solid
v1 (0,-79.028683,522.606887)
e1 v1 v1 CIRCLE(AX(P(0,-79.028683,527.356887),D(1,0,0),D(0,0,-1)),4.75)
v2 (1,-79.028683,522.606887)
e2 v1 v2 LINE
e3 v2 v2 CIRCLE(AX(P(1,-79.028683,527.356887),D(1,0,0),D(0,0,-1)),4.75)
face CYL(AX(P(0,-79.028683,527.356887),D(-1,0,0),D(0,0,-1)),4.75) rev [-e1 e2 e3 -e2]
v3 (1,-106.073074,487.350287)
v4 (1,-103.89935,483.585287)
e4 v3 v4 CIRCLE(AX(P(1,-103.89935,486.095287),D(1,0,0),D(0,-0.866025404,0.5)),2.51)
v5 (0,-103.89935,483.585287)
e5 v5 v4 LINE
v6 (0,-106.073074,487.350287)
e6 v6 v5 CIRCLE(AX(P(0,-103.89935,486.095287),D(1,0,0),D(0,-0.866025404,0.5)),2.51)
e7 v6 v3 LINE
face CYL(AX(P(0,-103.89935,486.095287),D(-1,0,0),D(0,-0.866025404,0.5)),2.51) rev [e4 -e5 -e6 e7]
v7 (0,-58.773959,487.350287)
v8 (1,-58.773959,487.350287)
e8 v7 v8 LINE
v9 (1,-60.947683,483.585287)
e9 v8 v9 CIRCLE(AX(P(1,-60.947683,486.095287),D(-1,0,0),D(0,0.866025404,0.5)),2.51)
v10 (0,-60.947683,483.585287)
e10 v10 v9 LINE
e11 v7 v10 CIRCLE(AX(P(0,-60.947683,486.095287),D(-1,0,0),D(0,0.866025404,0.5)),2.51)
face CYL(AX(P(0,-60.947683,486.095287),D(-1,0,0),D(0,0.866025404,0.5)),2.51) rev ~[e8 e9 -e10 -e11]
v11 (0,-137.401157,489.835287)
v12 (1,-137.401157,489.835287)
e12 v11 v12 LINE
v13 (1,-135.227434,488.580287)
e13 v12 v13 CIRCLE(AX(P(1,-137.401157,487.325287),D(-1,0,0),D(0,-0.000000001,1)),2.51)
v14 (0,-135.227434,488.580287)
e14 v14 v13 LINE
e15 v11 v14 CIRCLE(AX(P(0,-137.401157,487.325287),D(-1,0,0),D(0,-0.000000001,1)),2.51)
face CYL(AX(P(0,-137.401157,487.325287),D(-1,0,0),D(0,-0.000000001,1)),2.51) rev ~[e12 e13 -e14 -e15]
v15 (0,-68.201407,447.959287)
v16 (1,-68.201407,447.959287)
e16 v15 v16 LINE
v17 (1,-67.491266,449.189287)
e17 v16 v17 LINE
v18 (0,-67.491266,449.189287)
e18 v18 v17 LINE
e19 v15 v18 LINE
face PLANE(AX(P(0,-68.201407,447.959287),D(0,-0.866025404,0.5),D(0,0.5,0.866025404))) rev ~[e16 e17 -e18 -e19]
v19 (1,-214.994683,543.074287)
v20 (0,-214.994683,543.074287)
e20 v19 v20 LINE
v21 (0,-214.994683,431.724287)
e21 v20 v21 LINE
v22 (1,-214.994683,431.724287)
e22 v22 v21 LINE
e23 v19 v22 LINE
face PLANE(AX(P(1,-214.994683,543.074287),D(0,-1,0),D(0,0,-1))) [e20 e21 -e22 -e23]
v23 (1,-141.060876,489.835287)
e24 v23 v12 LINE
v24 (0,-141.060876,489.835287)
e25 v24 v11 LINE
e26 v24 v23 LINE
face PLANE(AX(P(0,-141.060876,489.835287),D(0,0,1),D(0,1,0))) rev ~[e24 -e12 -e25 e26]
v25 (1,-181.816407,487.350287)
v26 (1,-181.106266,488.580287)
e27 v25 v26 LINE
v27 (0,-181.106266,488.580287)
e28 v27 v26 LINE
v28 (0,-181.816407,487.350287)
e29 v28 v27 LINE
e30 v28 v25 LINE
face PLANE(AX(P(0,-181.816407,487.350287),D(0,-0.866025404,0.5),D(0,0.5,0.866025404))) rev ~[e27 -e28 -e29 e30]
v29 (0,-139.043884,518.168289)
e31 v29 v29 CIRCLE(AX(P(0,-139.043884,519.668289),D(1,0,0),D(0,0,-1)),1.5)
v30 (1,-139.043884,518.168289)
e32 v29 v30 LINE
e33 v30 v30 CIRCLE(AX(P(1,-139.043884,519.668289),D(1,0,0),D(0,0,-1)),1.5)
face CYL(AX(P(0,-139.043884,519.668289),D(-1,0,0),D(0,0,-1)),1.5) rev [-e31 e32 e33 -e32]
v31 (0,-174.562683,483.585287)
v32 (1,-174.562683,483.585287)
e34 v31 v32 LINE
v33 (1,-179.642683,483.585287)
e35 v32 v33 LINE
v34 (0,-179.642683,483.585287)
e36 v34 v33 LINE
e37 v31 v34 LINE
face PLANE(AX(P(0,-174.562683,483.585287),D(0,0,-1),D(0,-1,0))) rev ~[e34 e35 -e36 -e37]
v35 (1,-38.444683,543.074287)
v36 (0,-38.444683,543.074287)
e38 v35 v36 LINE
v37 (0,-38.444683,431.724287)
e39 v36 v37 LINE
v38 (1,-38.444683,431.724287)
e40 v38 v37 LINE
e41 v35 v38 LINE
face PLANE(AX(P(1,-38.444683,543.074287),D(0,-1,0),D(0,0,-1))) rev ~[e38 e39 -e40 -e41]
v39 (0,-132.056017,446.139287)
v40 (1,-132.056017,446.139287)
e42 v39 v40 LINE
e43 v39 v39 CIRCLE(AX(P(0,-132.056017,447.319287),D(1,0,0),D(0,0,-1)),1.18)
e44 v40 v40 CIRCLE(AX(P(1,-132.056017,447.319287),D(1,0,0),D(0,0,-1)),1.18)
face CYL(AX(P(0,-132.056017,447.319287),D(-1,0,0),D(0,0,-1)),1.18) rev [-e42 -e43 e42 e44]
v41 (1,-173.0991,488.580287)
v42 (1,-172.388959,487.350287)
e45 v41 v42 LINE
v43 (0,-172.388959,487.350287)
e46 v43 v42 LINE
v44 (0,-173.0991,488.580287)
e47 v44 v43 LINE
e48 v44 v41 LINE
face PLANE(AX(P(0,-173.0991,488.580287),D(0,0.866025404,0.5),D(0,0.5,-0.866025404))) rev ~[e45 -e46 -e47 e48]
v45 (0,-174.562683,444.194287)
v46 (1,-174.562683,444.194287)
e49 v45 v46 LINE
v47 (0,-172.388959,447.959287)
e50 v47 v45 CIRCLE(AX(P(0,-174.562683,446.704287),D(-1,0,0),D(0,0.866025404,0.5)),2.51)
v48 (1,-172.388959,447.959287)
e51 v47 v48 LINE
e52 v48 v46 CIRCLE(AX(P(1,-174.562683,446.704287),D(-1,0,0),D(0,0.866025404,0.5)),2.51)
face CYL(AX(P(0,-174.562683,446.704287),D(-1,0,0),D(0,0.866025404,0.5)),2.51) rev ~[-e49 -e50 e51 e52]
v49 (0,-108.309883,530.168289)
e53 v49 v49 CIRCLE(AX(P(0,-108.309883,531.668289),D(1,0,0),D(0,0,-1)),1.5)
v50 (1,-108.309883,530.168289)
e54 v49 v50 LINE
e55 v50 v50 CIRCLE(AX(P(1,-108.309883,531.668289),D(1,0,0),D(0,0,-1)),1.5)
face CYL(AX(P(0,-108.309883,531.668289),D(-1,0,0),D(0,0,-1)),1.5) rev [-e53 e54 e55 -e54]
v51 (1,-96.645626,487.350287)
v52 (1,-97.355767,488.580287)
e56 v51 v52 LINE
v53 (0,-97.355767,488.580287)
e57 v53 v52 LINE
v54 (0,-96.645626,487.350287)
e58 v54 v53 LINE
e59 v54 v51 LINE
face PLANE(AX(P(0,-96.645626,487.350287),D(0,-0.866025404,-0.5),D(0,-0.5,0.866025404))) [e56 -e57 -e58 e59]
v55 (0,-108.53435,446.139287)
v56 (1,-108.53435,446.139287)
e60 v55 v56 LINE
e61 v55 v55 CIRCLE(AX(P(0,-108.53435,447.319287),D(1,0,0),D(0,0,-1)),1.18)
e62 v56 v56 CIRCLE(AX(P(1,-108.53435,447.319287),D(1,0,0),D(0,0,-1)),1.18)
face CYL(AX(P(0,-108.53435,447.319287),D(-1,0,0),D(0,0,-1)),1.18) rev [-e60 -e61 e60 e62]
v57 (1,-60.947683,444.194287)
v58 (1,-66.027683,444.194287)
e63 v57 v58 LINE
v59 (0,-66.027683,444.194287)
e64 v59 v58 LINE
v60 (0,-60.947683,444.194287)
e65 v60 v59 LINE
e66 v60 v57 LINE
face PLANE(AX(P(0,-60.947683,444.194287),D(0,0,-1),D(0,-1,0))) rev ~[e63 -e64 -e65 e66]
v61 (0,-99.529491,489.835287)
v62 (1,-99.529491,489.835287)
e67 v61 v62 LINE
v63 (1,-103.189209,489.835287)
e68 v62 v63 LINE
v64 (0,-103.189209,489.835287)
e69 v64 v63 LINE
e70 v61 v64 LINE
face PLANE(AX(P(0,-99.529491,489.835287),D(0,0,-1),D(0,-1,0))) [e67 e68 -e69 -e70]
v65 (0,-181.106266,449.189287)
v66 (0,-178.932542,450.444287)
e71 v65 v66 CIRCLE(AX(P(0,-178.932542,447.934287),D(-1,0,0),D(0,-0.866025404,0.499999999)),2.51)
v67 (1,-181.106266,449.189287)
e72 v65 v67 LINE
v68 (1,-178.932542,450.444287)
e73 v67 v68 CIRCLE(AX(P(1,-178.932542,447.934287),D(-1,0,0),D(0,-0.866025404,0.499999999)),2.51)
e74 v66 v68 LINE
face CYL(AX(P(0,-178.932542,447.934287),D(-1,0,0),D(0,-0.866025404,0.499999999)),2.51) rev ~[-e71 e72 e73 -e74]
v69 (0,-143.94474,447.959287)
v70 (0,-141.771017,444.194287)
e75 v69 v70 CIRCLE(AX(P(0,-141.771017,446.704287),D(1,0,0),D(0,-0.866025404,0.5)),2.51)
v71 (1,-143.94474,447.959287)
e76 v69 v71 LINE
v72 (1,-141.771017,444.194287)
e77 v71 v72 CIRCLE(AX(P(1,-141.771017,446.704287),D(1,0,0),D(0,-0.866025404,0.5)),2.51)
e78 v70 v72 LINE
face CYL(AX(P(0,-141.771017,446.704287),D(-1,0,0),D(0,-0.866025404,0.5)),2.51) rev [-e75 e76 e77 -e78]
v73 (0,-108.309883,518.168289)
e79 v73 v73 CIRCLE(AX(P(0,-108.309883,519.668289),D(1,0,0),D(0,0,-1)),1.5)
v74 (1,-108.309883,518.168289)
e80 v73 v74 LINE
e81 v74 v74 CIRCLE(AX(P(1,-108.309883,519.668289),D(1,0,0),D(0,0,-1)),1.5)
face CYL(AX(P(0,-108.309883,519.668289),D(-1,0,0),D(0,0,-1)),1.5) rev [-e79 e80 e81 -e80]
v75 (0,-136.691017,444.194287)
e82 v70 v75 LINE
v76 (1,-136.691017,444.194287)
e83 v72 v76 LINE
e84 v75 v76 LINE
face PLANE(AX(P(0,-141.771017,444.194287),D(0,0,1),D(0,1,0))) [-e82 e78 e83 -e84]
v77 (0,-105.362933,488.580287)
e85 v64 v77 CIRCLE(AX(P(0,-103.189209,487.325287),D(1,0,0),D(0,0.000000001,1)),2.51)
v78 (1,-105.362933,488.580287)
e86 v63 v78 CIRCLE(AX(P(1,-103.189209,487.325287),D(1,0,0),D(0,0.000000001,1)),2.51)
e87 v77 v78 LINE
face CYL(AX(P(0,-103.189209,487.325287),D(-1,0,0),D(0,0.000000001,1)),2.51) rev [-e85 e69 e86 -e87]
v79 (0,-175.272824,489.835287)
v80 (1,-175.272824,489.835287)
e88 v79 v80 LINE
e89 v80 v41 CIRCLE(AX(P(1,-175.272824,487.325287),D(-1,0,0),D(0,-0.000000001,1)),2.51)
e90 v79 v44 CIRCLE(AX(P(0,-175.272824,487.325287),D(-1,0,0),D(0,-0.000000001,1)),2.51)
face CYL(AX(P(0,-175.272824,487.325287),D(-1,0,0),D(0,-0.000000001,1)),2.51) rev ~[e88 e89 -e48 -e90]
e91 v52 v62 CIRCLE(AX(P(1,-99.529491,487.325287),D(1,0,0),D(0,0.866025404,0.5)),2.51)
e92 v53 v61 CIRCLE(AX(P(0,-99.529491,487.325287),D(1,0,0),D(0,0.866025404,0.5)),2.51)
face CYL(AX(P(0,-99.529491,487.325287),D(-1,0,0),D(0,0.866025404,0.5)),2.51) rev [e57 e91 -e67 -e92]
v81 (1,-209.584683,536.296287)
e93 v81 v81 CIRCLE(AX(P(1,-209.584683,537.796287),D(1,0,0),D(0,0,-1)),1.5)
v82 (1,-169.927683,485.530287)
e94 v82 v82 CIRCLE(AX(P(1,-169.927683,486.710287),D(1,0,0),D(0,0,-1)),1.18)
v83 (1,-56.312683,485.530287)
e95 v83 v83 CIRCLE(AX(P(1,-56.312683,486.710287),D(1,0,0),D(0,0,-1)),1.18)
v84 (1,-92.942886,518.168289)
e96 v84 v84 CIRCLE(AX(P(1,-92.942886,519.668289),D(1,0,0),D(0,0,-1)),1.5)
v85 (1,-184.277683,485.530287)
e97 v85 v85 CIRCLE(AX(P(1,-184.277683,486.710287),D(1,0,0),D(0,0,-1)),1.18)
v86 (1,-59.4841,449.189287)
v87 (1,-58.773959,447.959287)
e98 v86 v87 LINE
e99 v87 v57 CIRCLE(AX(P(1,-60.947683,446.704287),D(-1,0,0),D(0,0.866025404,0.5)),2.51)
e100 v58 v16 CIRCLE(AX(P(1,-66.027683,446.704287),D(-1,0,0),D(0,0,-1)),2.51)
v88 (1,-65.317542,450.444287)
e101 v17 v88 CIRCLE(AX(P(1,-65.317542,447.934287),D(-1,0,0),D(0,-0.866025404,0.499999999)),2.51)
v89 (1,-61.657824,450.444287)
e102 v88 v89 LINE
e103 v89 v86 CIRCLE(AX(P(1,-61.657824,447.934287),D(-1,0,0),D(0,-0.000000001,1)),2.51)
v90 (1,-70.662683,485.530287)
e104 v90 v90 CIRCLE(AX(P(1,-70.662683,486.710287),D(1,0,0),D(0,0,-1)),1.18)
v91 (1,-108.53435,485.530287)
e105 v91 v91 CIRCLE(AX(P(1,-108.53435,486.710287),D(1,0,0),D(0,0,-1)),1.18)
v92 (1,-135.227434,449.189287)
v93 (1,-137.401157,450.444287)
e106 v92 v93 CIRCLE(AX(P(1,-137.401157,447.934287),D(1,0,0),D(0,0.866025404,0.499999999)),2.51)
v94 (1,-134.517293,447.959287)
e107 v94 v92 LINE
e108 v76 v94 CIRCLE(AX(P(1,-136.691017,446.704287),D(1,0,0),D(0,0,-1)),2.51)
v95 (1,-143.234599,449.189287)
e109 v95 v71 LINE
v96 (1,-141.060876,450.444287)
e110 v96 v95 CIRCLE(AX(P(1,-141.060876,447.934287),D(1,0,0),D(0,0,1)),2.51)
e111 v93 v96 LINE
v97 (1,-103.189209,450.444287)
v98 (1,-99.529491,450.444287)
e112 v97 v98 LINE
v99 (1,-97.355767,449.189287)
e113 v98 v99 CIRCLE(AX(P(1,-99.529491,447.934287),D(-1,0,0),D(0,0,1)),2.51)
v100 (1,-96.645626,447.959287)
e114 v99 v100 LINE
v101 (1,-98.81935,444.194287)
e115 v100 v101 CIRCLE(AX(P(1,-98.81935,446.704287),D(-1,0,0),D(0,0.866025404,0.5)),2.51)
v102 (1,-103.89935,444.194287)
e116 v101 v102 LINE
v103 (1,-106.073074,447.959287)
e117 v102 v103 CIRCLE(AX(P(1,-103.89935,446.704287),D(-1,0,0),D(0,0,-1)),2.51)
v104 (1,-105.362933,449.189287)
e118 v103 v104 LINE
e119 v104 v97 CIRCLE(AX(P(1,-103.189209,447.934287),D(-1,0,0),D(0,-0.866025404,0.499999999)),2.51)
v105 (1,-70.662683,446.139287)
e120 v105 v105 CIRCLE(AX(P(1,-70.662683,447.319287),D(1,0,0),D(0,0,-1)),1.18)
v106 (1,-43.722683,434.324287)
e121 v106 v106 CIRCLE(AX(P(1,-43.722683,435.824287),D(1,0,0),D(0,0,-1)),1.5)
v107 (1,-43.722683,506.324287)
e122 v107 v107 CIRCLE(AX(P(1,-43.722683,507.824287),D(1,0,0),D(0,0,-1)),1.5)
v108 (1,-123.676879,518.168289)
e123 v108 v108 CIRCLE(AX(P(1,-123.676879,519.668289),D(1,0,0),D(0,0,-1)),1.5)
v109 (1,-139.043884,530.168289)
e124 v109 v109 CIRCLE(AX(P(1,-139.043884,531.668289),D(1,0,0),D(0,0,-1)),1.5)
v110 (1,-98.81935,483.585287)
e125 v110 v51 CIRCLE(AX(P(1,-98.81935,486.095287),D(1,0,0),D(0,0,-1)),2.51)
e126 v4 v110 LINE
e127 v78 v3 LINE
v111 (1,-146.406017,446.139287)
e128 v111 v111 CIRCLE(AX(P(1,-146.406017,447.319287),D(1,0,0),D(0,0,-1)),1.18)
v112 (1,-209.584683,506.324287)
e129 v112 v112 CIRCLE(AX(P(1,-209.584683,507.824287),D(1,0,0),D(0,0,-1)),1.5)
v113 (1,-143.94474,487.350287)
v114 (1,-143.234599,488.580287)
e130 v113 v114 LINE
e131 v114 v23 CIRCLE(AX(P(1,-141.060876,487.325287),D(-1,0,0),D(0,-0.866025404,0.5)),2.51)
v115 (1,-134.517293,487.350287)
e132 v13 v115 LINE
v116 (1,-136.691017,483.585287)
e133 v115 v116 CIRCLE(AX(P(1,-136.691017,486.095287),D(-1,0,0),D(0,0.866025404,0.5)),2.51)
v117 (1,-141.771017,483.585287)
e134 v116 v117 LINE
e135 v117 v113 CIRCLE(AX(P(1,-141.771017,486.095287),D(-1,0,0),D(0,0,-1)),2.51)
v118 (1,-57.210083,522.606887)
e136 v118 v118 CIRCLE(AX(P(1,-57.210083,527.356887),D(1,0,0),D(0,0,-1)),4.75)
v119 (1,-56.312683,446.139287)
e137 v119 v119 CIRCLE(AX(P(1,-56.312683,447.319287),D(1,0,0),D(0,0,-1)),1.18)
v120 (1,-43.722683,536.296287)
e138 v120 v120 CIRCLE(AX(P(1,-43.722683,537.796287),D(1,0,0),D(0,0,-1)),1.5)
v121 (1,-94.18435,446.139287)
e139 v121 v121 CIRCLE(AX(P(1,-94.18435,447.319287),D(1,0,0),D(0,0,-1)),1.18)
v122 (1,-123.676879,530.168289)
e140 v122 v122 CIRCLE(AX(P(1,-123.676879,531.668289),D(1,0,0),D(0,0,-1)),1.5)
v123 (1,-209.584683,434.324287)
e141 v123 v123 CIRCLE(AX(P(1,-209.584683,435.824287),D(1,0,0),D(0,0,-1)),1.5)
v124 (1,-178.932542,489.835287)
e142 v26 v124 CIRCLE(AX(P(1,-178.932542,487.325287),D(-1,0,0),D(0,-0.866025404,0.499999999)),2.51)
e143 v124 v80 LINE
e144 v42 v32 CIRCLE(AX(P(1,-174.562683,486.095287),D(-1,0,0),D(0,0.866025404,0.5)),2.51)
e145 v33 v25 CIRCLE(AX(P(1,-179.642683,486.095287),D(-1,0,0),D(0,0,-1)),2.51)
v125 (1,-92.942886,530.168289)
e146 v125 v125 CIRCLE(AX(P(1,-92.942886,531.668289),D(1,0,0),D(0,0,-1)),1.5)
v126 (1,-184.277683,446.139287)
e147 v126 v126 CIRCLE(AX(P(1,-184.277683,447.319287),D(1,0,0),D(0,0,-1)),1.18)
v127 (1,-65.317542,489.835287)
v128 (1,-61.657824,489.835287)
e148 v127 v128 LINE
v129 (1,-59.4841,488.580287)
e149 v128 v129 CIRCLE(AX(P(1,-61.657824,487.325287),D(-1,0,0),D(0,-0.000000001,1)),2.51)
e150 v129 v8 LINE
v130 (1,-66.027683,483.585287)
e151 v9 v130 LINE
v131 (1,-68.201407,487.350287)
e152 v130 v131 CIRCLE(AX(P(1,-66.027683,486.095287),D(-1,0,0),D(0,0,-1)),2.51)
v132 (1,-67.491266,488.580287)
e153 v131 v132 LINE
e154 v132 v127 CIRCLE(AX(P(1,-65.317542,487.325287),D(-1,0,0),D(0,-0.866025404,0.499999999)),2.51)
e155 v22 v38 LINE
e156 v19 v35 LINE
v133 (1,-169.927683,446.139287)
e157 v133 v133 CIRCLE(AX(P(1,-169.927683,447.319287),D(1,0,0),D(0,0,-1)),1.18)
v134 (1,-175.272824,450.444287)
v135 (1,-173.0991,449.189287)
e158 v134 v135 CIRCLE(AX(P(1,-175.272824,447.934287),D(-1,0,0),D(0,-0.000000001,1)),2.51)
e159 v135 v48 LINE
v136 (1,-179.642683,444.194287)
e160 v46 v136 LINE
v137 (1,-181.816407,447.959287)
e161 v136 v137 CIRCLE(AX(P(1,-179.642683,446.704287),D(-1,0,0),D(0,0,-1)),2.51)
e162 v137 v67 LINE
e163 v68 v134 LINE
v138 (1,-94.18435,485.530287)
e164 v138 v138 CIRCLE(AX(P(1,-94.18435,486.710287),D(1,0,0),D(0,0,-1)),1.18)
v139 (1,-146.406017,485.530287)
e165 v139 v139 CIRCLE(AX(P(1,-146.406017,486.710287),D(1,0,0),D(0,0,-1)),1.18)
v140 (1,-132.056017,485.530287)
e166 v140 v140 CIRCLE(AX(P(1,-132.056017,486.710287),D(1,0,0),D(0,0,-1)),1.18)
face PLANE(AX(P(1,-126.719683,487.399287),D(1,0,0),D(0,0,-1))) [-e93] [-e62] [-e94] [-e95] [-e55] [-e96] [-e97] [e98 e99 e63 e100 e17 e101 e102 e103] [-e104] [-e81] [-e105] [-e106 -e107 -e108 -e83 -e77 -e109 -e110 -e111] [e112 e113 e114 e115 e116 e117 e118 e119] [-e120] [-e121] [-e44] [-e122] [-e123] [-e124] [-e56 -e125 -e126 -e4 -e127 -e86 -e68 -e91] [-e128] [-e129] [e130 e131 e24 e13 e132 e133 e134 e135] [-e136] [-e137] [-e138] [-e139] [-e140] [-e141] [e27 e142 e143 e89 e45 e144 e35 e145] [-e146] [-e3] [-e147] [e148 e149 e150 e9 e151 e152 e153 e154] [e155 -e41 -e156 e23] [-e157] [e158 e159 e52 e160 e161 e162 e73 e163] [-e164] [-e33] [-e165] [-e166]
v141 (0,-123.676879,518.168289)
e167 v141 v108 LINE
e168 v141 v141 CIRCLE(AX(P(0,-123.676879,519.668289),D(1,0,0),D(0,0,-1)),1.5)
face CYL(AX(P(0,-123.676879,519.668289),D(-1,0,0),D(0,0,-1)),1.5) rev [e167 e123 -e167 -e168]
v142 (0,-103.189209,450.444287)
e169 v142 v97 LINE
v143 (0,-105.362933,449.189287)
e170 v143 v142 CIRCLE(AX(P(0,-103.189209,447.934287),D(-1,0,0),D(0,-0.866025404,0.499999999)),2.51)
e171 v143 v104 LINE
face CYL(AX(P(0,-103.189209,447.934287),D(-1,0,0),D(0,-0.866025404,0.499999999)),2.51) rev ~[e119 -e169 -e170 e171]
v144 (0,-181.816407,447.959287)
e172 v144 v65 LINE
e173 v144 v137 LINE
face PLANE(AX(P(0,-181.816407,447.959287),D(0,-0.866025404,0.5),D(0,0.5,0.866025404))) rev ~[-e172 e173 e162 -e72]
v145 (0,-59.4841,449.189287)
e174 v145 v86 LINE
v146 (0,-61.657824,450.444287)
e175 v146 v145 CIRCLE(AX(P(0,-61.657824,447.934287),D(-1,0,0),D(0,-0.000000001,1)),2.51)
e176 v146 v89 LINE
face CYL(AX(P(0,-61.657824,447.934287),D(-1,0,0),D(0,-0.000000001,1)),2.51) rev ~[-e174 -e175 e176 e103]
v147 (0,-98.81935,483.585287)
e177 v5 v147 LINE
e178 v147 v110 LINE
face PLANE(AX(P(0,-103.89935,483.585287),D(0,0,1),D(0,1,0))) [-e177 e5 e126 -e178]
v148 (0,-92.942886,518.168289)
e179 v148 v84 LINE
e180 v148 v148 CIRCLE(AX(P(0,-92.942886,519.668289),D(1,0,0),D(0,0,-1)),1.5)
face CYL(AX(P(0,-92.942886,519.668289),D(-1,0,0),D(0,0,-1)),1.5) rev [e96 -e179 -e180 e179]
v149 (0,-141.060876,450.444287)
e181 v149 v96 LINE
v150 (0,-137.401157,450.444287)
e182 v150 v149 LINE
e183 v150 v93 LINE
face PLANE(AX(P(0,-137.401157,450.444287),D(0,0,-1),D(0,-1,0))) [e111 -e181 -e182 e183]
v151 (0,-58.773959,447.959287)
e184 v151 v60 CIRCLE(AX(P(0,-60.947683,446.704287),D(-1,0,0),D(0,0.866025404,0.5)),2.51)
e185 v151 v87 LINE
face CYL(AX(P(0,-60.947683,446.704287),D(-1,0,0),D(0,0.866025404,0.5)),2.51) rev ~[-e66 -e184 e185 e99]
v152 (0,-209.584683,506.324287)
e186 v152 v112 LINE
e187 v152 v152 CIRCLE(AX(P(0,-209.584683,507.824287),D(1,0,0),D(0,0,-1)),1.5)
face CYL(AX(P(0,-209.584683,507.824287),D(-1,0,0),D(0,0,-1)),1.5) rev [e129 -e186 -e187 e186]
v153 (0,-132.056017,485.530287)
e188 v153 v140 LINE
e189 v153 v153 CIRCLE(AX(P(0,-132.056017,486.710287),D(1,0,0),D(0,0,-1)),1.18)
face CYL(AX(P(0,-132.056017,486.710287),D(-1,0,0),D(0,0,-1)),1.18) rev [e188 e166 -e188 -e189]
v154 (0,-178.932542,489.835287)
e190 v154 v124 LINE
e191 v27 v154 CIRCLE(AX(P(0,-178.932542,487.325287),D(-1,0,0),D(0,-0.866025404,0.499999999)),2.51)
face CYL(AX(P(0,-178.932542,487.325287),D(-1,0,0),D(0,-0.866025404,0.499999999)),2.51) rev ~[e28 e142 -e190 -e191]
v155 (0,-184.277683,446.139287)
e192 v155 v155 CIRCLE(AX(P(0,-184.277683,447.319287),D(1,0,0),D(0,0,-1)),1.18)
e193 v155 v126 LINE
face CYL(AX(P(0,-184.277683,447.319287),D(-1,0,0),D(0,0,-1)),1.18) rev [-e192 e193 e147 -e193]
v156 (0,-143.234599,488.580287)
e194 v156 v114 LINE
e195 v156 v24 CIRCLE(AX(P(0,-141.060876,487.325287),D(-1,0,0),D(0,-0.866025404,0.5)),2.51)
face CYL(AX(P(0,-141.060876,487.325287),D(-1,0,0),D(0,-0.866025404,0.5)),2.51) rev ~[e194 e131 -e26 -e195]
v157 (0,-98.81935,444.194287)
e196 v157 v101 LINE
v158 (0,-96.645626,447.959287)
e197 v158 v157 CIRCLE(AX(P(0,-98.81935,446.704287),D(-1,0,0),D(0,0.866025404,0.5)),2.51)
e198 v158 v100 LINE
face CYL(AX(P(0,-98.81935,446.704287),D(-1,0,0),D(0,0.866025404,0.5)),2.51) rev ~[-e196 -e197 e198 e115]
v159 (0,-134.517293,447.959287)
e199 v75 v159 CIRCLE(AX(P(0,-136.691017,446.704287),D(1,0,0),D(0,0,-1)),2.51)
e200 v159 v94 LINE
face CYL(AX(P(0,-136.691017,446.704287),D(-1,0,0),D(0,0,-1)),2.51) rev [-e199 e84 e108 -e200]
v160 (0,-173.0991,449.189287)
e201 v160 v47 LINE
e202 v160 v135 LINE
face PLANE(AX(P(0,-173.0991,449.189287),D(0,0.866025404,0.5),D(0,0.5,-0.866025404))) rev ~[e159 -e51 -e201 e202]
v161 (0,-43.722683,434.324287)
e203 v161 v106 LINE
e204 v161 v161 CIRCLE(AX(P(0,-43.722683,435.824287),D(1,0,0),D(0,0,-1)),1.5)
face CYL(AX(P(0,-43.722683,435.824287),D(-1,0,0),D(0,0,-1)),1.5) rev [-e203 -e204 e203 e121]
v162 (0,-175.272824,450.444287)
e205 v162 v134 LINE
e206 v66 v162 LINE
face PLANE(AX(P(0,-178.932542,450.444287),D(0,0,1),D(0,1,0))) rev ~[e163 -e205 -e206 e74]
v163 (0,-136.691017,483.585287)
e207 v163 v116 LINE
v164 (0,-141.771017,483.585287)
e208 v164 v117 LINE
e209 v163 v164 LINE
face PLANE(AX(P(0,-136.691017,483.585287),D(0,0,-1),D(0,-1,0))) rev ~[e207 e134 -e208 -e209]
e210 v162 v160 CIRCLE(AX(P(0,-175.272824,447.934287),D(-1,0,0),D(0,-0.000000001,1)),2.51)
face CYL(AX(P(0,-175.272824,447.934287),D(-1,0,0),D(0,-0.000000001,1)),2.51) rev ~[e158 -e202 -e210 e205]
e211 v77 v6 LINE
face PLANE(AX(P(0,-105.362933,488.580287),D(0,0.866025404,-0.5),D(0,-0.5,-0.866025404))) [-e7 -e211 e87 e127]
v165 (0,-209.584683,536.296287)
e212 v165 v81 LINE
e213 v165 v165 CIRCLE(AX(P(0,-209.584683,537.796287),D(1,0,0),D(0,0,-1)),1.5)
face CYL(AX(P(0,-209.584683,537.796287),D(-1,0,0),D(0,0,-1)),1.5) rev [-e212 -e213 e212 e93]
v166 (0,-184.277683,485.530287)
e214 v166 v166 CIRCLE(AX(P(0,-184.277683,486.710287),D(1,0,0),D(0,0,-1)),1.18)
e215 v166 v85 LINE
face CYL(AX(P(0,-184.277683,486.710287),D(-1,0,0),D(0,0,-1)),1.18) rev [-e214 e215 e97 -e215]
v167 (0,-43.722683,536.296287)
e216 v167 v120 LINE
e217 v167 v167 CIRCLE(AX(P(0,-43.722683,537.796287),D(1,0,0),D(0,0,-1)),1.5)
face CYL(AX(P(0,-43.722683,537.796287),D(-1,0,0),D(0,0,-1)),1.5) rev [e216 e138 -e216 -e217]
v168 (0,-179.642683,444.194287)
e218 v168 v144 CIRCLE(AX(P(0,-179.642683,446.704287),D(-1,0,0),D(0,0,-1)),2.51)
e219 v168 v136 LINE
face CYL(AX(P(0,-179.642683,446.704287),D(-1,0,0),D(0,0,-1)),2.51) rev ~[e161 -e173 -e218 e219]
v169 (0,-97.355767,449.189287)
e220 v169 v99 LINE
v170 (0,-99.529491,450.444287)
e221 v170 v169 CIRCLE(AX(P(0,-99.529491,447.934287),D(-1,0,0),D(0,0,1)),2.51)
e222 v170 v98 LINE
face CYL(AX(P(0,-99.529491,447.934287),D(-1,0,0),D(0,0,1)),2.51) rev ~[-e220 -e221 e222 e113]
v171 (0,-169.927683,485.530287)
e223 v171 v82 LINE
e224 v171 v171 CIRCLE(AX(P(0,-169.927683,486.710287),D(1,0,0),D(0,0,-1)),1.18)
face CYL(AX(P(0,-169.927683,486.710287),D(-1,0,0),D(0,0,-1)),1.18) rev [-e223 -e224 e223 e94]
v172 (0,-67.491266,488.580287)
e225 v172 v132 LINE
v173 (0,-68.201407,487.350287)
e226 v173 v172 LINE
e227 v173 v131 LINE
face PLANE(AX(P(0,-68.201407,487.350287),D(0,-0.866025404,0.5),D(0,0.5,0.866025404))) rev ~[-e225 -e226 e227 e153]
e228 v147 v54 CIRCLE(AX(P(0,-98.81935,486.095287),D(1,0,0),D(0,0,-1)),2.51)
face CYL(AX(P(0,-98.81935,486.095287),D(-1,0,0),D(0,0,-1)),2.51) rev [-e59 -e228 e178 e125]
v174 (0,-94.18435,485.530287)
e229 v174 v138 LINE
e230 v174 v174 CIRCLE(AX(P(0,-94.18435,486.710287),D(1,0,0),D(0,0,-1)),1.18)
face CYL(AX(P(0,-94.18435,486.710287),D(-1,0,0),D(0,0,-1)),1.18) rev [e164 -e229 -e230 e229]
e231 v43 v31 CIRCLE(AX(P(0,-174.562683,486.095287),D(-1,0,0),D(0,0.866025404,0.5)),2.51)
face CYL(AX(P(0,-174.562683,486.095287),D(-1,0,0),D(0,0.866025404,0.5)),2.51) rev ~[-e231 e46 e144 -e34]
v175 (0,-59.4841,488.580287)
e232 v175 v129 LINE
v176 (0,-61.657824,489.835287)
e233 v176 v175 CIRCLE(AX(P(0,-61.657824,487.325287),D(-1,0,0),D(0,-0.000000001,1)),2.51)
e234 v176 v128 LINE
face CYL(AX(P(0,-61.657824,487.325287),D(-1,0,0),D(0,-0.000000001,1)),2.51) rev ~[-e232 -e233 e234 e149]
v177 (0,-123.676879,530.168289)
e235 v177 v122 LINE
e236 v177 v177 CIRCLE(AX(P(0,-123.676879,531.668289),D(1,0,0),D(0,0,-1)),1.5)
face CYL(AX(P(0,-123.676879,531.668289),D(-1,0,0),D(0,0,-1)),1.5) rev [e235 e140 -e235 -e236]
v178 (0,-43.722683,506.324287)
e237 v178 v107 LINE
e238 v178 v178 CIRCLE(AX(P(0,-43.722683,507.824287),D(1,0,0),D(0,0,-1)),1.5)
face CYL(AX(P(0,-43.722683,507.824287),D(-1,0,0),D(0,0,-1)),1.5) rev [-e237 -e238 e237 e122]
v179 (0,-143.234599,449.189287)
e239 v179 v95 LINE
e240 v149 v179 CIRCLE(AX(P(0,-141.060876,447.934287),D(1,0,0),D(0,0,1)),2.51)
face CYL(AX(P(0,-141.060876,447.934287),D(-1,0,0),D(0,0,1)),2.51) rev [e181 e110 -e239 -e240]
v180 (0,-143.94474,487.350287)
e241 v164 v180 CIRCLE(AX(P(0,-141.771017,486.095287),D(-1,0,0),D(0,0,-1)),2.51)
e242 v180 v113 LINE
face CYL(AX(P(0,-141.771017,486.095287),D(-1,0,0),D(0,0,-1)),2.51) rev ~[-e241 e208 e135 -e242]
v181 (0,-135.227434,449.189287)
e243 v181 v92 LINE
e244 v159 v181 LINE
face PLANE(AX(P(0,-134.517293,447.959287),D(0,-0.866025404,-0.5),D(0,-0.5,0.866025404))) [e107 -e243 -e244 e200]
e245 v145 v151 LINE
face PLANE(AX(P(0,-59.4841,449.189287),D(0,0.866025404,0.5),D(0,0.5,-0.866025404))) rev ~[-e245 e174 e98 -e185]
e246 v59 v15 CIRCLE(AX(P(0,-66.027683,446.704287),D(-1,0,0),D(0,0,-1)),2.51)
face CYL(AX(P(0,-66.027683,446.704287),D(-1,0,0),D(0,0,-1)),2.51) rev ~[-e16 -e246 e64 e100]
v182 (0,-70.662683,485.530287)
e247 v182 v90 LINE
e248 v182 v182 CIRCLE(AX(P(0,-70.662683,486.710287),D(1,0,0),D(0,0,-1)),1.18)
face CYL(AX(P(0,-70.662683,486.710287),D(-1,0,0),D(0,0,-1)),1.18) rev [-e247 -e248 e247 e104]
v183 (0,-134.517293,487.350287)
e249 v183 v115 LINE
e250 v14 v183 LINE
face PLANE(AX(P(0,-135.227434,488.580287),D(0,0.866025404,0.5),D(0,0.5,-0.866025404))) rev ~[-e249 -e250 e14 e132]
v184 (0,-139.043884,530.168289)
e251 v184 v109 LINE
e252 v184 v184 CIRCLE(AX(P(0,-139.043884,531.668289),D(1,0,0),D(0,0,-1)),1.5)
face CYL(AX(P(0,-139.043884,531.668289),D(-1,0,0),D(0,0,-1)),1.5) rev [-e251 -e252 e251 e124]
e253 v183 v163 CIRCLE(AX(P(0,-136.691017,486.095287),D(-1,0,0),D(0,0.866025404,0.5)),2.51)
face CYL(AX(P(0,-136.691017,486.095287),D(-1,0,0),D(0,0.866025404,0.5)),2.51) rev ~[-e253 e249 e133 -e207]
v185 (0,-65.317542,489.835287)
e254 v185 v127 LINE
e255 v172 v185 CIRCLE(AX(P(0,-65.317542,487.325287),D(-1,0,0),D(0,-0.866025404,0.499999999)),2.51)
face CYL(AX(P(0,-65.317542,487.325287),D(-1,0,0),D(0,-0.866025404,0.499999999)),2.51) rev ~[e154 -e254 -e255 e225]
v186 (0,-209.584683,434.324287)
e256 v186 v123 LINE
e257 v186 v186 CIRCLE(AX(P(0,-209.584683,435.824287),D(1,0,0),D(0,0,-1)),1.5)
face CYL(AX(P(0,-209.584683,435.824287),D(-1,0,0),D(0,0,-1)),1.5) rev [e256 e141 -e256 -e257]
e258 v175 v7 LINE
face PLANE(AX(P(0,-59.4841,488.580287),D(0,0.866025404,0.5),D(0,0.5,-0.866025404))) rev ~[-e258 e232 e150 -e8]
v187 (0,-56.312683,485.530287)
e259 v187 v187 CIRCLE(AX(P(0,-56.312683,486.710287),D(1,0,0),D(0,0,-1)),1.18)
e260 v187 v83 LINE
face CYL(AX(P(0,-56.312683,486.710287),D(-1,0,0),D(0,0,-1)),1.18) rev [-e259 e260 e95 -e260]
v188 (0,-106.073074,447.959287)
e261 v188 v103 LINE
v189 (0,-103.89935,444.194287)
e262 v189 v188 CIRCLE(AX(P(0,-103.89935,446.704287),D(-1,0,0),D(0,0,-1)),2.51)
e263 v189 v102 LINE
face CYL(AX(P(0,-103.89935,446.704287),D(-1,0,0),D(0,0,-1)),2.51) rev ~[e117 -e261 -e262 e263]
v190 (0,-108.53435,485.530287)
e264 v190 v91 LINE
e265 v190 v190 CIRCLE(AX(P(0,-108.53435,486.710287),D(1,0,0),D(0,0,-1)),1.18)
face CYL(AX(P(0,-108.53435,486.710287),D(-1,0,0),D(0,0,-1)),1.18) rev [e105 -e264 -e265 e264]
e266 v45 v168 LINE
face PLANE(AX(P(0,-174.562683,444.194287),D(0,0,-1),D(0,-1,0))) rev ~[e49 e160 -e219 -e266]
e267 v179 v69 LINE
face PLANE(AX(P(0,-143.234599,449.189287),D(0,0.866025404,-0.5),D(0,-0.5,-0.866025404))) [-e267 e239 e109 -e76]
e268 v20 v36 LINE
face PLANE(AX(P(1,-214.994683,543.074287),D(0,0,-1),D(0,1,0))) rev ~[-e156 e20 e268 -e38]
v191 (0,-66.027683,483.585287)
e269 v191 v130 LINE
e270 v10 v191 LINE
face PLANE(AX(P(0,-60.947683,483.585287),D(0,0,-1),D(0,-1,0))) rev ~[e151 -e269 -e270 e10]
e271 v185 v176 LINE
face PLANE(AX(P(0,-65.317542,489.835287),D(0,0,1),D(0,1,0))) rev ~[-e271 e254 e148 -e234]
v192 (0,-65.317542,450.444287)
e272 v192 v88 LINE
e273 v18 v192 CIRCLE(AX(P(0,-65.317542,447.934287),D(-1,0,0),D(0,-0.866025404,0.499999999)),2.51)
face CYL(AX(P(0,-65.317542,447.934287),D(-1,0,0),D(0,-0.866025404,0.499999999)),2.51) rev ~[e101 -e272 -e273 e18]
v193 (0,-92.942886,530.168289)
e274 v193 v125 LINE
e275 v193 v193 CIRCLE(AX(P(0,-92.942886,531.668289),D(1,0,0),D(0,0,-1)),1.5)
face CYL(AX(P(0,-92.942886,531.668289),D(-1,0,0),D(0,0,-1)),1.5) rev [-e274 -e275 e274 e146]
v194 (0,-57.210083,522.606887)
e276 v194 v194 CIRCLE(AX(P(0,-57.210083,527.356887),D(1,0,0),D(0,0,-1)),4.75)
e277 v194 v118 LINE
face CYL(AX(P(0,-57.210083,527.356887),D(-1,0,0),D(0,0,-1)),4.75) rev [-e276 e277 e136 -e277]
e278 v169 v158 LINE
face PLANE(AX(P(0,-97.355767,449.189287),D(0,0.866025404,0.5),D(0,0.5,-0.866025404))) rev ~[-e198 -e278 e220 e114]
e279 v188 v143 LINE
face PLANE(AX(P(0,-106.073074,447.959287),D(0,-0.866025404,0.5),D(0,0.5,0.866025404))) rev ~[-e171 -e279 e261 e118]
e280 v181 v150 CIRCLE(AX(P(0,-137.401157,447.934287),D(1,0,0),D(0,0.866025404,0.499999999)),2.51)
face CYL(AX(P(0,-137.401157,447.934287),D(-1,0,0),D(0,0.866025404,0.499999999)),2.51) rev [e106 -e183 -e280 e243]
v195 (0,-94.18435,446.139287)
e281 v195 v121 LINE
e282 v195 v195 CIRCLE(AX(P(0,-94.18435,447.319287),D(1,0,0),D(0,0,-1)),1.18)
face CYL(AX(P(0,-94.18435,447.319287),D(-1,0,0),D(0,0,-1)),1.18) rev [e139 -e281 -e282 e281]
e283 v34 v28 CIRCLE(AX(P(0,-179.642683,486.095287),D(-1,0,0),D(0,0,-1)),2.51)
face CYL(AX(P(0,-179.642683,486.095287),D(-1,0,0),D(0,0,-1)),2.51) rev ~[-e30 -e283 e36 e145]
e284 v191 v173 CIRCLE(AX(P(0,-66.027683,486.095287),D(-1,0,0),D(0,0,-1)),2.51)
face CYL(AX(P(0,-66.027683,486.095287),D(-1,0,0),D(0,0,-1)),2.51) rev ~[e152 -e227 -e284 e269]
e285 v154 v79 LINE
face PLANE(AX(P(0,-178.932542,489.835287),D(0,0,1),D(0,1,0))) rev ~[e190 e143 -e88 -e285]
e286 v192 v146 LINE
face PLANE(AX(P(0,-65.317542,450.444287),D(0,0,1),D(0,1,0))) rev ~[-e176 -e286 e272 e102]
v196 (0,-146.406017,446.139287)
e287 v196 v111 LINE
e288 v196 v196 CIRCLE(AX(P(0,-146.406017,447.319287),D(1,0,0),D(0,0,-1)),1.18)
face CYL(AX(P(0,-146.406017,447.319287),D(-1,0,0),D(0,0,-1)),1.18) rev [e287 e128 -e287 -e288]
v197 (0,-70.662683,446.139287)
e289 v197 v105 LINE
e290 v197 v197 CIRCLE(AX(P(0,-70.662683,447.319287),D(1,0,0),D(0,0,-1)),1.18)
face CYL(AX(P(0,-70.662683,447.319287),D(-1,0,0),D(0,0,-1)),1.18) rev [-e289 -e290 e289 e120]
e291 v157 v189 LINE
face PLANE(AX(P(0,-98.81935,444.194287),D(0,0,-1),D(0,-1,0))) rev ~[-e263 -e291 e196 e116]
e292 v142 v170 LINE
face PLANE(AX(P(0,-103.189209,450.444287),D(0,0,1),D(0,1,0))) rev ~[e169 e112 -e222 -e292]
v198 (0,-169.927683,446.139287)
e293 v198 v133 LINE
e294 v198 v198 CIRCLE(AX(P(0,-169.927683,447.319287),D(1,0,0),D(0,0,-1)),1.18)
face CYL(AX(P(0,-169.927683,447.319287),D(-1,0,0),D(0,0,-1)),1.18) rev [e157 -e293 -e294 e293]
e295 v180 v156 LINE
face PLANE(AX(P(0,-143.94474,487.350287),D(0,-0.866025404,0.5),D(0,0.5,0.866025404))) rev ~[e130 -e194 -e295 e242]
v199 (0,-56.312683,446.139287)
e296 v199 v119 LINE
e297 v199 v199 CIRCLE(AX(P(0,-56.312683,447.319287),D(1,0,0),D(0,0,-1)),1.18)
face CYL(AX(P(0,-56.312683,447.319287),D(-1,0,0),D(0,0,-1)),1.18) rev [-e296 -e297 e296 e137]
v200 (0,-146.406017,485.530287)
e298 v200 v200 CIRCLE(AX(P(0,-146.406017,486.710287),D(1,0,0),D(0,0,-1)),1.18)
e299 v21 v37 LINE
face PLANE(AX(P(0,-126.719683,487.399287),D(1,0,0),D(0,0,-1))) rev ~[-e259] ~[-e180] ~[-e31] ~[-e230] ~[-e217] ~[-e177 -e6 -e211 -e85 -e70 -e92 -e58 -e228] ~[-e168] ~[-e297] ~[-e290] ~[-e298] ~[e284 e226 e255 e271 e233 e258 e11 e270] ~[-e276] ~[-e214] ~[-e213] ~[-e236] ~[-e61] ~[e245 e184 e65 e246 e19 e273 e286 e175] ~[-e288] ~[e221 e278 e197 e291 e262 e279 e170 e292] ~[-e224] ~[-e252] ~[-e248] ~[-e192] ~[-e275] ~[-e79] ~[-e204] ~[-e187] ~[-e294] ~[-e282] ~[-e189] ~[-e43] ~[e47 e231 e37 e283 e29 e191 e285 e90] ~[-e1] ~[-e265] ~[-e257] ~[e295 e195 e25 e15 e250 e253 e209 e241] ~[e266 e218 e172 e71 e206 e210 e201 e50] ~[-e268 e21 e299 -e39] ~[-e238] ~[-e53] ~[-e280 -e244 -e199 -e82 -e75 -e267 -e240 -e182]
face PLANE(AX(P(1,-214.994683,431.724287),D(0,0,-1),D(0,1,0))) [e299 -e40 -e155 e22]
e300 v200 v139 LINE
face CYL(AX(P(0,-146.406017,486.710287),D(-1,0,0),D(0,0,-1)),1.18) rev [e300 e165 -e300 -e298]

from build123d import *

# Parameters (mm, degrees)
ESBO_O1_W                = 113.35
ESBO_O1_H                = 178.55
ESBO_O1_R                = 1.49999954
ESBO_O1_R_2              = 1.18
ESBO_O1_R_3              = 4.75
ESBO_O1_R_4              = 1.5
RESSALTO_EXTRUS_O2_DEPTH = 1
ESBO_O2_W                = 113.35
ESBO_O2_H                = 178.55
ESBO_O2_W_2              = 111.35
ESBO_O2_H_2              = 176.55
CORTE_EXTRUS_O1_DEPTH    = 586.381527556


with BuildPart() as part:
    # Esboço1 → Ressalto-extrusão2 (new body)
    with BuildSketch(Plane(origin=(0, 0, 0), x_dir=(0, 0, -1), z_dir=(1, 0, 0))):
        with Locations((-487.399286861, -126.719683222)):
            Rectangle(ESBO_O1_W, ESBO_O1_H)
        with Locations((-507.824286861, -209.584683222)):
            Circle(ESBO_O1_R, mode=Mode.SUBTRACT)
        with Locations((-537.796286861, -209.584683222)):
            Circle(ESBO_O1_R, mode=Mode.SUBTRACT)
        with Locations((-537.796286861, -43.722683222)):
            Circle(ESBO_O1_R, mode=Mode.SUBTRACT)
        with Locations((-507.824286861, -43.722683222)):
            Circle(ESBO_O1_R, mode=Mode.SUBTRACT)
        with Locations((-486.710286861, -56.312683222)):
            Circle(ESBO_O1_R_2, mode=Mode.SUBTRACT)
        with Locations((-486.710286861, -70.662683222)):
            Circle(ESBO_O1_R_2, mode=Mode.SUBTRACT)
        with Locations((-447.319286861, -70.662683222)):
            Circle(ESBO_O1_R_2, mode=Mode.SUBTRACT)
        with Locations((-447.319286861, -56.312683222)):
            Circle(ESBO_O1_R_2, mode=Mode.SUBTRACT)
        with Locations((-447.319286861, -94.184349889)):
            Circle(ESBO_O1_R_2, mode=Mode.SUBTRACT)
        with Locations((-447.319286861, -132.056016555)):
            Circle(ESBO_O1_R_2, mode=Mode.SUBTRACT)
        with Locations((-447.319286861, -108.534349889)):
            Circle(ESBO_O1_R_2, mode=Mode.SUBTRACT)
        with Locations((-447.319286861, -146.406016555)):
            Circle(ESBO_O1_R_2, mode=Mode.SUBTRACT)
        with Locations((-447.319286861, -184.277683222)):
            Circle(ESBO_O1_R_2, mode=Mode.SUBTRACT)
        with Locations((-447.319286861, -169.927683222)):
            Circle(ESBO_O1_R_2, mode=Mode.SUBTRACT)
        with Locations((-486.710286861, -184.277683222)):
            Circle(ESBO_O1_R_2, mode=Mode.SUBTRACT)
        with Locations((-486.710286861, -169.927683222)):
            Circle(ESBO_O1_R_2, mode=Mode.SUBTRACT)
        with Locations((-486.710286861, -146.406016555)):
            Circle(ESBO_O1_R_2, mode=Mode.SUBTRACT)
        with Locations((-486.710286861, -132.056016555)):
            Circle(ESBO_O1_R_2, mode=Mode.SUBTRACT)
        with Locations((-486.710286861, -94.184349889)):
            Circle(ESBO_O1_R_2, mode=Mode.SUBTRACT)
        with Locations((-486.710286861, -108.534349889)):
            Circle(ESBO_O1_R_2, mode=Mode.SUBTRACT)
        with Locations((-527.356886861, -79.028683222)):
            Circle(ESBO_O1_R_3, mode=Mode.SUBTRACT)
        with Locations((-527.356886861, -57.210083222)):
            Circle(ESBO_O1_R_3, mode=Mode.SUBTRACT)
        with Locations((-531.668289241, -139.043883661)):
            Circle(ESBO_O1_R_4, mode=Mode.SUBTRACT)
        with Locations((-531.668289241, -123.676879267)):
            Circle(ESBO_O1_R_4, mode=Mode.SUBTRACT)
        with Locations((-531.668289241, -108.309882502)):
            Circle(ESBO_O1_R_4, mode=Mode.SUBTRACT)
        with Locations((-531.668289241, -92.942885737)):
            Circle(ESBO_O1_R_4, mode=Mode.SUBTRACT)
        with Locations((-519.668289241, -92.942885737)):
            Circle(ESBO_O1_R_4, mode=Mode.SUBTRACT)
        with Locations((-519.668289241, -108.309882502)):
            Circle(ESBO_O1_R_4, mode=Mode.SUBTRACT)
        with Locations((-519.668289241, -123.676879267)):
            Circle(ESBO_O1_R_4, mode=Mode.SUBTRACT)
        with Locations((-519.668289241, -139.043883661)):
            Circle(ESBO_O1_R_4, mode=Mode.SUBTRACT)
        with Locations((-435.824286861, -209.584683222)):
            Circle(ESBO_O1_R_4, mode=Mode.SUBTRACT)
        with Locations((-435.824286861, -43.722683222)):
            Circle(ESBO_O1_R_4, mode=Mode.SUBTRACT)
        with BuildLine():
            Line((-489.835286861, -178.932542391), (-489.835286861, -175.272824053))
            ThreePointArc((-489.835286861, -175.272824053), (-489.499010625, -174.017824053), (-488.580286861, -173.09910029))
            Line((-488.580286861, -173.09910029), (-487.350286861, -172.388959458))
            ThreePointArc((-487.350286861, -172.388959458), (-484.840286861, -172.388959458), (-483.585286861, -174.562683222))
            Line((-483.585286861, -174.562683222), (-483.585286861, -179.642683222))
            ThreePointArc((-483.585286861, -179.642683222), (-484.840286861, -181.816406985), (-487.350286861, -181.816406985))
            Line((-487.350286861, -181.816406985), (-488.580286861, -181.106266154))
            ThreePointArc((-488.580286861, -181.106266154), (-489.499010625, -180.187542391), (-489.835286861, -178.932542391))
        make_face(mode=Mode.SUBTRACT)
        with BuildLine():
            Line((-487.350286861, -143.944740319), (-488.580286861, -143.234599488))
            ThreePointArc((-488.580286861, -143.234599488), (-489.499010625, -142.315875724), (-489.835286861, -141.060875724))
            Line((-489.835286861, -141.060875724), (-489.835286861, -137.401157386))
            ThreePointArc((-489.835286861, -137.401157386), (-489.499010625, -136.146157386), (-488.580286861, -135.227433623))
            Line((-488.580286861, -135.227433623), (-487.350286861, -134.517292792))
            ThreePointArc((-487.350286861, -134.517292792), (-484.840286861, -134.517292792), (-483.585286861, -136.691016555))
            Line((-483.585286861, -136.691016555), (-483.585286861, -141.771016555))
            ThreePointArc((-483.585286861, -141.771016555), (-484.840286861, -143.944740319), (-487.350286861, -143.944740319))
        make_face(mode=Mode.SUBTRACT)
        with BuildLine():
            Line((-488.580286861, -105.362932821), (-487.350286861, -106.073073652))
            ThreePointArc((-487.350286861, -106.073073652), (-484.840286861, -106.073073652), (-483.585286861, -103.899349889))
            Line((-483.585286861, -103.899349889), (-483.585286861, -98.819349889))
            ThreePointArc((-483.585286861, -98.819349889), (-484.840286861, -96.645626125), (-487.350286861, -96.645626125))
            Line((-487.350286861, -96.645626125), (-488.580286861, -97.355766956))
            ThreePointArc((-488.580286861, -97.355766956), (-489.499010625, -98.27449072), (-489.835286861, -99.52949072))
            Line((-489.835286861, -99.52949072), (-489.835286861, -103.189209058))
            ThreePointArc((-489.835286861, -103.189209058), (-489.499010625, -104.444209058), (-488.580286861, -105.362932821))
        make_face(mode=Mode.SUBTRACT)
        with BuildLine():
            Line((-489.835286861, -65.317542391), (-489.835286861, -61.657824053))
            ThreePointArc((-489.835286861, -61.657824053), (-489.499010625, -60.402824053), (-488.580286861, -59.48410029))
            Line((-488.580286861, -59.48410029), (-487.350286861, -58.773959458))
            ThreePointArc((-487.350286861, -58.773959458), (-484.840286861, -58.773959458), (-483.585286861, -60.947683222))
            Line((-483.585286861, -60.947683222), (-483.585286861, -66.027683222))
            ThreePointArc((-483.585286861, -66.027683222), (-484.840286861, -68.201406985), (-487.350286861, -68.201406985))
            Line((-487.350286861, -68.201406985), (-488.580286861, -67.491266154))
            ThreePointArc((-488.580286861, -67.491266154), (-489.499010625, -66.572542391), (-489.835286861, -65.317542391))
        make_face(mode=Mode.SUBTRACT)
        with BuildLine():
            Line((-447.959286861, -68.201406985), (-449.189286861, -67.491266154))
            ThreePointArc((-449.189286861, -67.491266154), (-450.108010625, -66.572542391), (-450.444286861, -65.317542391))
            Line((-450.444286861, -65.317542391), (-450.444286861, -61.657824053))
            ThreePointArc((-450.444286861, -61.657824053), (-450.108010625, -60.402824053), (-449.189286861, -59.48410029))
            Line((-449.189286861, -59.48410029), (-447.959286861, -58.773959458))
            ThreePointArc((-447.959286861, -58.773959458), (-445.449286861, -58.773959458), (-444.194286861, -60.947683222))
            Line((-444.194286861, -60.947683222), (-444.194286861, -66.027683222))
            ThreePointArc((-444.194286861, -66.027683222), (-445.449286861, -68.201406985), (-447.959286861, -68.201406985))
        make_face(mode=Mode.SUBTRACT)
        with BuildLine():
            Line((-450.444286861, -103.189209058), (-450.444286861, -99.52949072))
            ThreePointArc((-450.444286861, -99.52949072), (-450.108010625, -98.27449072), (-449.189286861, -97.355766956))
            Line((-449.189286861, -97.355766956), (-447.959286861, -96.645626125))
            ThreePointArc((-447.959286861, -96.645626125), (-445.449286861, -96.645626125), (-444.194286861, -98.819349889))
            Line((-444.194286861, -98.819349889), (-444.194286861, -103.899349889))
            ThreePointArc((-444.194286861, -103.899349889), (-445.449286861, -106.073073652), (-447.959286861, -106.073073652))
            Line((-447.959286861, -106.073073652), (-449.189286861, -105.362932821))
            ThreePointArc((-449.189286861, -105.362932821), (-450.108010625, -104.444209058), (-450.444286861, -103.189209058))
        make_face(mode=Mode.SUBTRACT)
        with BuildLine():
            Line((-449.189286861, -143.234599488), (-447.959286861, -143.944740319))
            ThreePointArc((-447.959286861, -143.944740319), (-445.449286861, -143.944740319), (-444.194286861, -141.771016555))
            Line((-444.194286861, -141.771016555), (-444.194286861, -136.691016555))
            ThreePointArc((-444.194286861, -136.691016555), (-445.449286861, -134.517292792), (-447.959286861, -134.517292792))
            Line((-447.959286861, -134.517292792), (-449.189286861, -135.227433623))
            ThreePointArc((-449.189286861, -135.227433623), (-450.108010625, -136.146157386), (-450.444286861, -137.401157386))
            Line((-450.444286861, -137.401157386), (-450.444286861, -141.060875724))
            ThreePointArc((-450.444286861, -141.060875724), (-450.108010625, -142.315875724), (-449.189286861, -143.234599488))
        make_face(mode=Mode.SUBTRACT)
        with BuildLine():
            Line((-450.444286861, -178.932542391), (-450.444286861, -175.272824053))
            ThreePointArc((-450.444286861, -175.272824053), (-450.108010625, -174.017824053), (-449.189286861, -173.09910029))
            Line((-449.189286861, -173.09910029), (-447.959286861, -172.388959458))
            ThreePointArc((-447.959286861, -172.388959458), (-445.449286861, -172.388959458), (-444.194286861, -174.562683222))
            Line((-444.194286861, -174.562683222), (-444.194286861, -179.642683222))
            ThreePointArc((-444.194286861, -179.642683222), (-445.449286861, -181.816406985), (-447.959286861, -181.816406985))
            Line((-447.959286861, -181.816406985), (-449.189286861, -181.106266154))
            ThreePointArc((-449.189286861, -181.106266154), (-450.108010625, -180.187542391), (-450.444286861, -178.932542391))
        make_face(mode=Mode.SUBTRACT)
    extrude(amount=RESSALTO_EXTRUS_O2_DEPTH)

    # Esboço2 → Corte-extrusão1 (cut, through all)
    with BuildSketch(Plane(origin=(1, 0, 0), x_dir=(0, 0, -1), z_dir=(1, 0, 0))):
        with Locations((-487.399286861, -126.719683222)):
            Rectangle(ESBO_O2_W, ESBO_O2_H)
        with Locations((-487.399286861, -126.719683222)):
            Rectangle(ESBO_O2_W_2, ESBO_O2_H_2, mode=Mode.SUBTRACT)
    extrude(amount=-CORTE_EXTRUS_O1_DEPTH, mode=Mode.SUBTRACT)


solid = part.part
